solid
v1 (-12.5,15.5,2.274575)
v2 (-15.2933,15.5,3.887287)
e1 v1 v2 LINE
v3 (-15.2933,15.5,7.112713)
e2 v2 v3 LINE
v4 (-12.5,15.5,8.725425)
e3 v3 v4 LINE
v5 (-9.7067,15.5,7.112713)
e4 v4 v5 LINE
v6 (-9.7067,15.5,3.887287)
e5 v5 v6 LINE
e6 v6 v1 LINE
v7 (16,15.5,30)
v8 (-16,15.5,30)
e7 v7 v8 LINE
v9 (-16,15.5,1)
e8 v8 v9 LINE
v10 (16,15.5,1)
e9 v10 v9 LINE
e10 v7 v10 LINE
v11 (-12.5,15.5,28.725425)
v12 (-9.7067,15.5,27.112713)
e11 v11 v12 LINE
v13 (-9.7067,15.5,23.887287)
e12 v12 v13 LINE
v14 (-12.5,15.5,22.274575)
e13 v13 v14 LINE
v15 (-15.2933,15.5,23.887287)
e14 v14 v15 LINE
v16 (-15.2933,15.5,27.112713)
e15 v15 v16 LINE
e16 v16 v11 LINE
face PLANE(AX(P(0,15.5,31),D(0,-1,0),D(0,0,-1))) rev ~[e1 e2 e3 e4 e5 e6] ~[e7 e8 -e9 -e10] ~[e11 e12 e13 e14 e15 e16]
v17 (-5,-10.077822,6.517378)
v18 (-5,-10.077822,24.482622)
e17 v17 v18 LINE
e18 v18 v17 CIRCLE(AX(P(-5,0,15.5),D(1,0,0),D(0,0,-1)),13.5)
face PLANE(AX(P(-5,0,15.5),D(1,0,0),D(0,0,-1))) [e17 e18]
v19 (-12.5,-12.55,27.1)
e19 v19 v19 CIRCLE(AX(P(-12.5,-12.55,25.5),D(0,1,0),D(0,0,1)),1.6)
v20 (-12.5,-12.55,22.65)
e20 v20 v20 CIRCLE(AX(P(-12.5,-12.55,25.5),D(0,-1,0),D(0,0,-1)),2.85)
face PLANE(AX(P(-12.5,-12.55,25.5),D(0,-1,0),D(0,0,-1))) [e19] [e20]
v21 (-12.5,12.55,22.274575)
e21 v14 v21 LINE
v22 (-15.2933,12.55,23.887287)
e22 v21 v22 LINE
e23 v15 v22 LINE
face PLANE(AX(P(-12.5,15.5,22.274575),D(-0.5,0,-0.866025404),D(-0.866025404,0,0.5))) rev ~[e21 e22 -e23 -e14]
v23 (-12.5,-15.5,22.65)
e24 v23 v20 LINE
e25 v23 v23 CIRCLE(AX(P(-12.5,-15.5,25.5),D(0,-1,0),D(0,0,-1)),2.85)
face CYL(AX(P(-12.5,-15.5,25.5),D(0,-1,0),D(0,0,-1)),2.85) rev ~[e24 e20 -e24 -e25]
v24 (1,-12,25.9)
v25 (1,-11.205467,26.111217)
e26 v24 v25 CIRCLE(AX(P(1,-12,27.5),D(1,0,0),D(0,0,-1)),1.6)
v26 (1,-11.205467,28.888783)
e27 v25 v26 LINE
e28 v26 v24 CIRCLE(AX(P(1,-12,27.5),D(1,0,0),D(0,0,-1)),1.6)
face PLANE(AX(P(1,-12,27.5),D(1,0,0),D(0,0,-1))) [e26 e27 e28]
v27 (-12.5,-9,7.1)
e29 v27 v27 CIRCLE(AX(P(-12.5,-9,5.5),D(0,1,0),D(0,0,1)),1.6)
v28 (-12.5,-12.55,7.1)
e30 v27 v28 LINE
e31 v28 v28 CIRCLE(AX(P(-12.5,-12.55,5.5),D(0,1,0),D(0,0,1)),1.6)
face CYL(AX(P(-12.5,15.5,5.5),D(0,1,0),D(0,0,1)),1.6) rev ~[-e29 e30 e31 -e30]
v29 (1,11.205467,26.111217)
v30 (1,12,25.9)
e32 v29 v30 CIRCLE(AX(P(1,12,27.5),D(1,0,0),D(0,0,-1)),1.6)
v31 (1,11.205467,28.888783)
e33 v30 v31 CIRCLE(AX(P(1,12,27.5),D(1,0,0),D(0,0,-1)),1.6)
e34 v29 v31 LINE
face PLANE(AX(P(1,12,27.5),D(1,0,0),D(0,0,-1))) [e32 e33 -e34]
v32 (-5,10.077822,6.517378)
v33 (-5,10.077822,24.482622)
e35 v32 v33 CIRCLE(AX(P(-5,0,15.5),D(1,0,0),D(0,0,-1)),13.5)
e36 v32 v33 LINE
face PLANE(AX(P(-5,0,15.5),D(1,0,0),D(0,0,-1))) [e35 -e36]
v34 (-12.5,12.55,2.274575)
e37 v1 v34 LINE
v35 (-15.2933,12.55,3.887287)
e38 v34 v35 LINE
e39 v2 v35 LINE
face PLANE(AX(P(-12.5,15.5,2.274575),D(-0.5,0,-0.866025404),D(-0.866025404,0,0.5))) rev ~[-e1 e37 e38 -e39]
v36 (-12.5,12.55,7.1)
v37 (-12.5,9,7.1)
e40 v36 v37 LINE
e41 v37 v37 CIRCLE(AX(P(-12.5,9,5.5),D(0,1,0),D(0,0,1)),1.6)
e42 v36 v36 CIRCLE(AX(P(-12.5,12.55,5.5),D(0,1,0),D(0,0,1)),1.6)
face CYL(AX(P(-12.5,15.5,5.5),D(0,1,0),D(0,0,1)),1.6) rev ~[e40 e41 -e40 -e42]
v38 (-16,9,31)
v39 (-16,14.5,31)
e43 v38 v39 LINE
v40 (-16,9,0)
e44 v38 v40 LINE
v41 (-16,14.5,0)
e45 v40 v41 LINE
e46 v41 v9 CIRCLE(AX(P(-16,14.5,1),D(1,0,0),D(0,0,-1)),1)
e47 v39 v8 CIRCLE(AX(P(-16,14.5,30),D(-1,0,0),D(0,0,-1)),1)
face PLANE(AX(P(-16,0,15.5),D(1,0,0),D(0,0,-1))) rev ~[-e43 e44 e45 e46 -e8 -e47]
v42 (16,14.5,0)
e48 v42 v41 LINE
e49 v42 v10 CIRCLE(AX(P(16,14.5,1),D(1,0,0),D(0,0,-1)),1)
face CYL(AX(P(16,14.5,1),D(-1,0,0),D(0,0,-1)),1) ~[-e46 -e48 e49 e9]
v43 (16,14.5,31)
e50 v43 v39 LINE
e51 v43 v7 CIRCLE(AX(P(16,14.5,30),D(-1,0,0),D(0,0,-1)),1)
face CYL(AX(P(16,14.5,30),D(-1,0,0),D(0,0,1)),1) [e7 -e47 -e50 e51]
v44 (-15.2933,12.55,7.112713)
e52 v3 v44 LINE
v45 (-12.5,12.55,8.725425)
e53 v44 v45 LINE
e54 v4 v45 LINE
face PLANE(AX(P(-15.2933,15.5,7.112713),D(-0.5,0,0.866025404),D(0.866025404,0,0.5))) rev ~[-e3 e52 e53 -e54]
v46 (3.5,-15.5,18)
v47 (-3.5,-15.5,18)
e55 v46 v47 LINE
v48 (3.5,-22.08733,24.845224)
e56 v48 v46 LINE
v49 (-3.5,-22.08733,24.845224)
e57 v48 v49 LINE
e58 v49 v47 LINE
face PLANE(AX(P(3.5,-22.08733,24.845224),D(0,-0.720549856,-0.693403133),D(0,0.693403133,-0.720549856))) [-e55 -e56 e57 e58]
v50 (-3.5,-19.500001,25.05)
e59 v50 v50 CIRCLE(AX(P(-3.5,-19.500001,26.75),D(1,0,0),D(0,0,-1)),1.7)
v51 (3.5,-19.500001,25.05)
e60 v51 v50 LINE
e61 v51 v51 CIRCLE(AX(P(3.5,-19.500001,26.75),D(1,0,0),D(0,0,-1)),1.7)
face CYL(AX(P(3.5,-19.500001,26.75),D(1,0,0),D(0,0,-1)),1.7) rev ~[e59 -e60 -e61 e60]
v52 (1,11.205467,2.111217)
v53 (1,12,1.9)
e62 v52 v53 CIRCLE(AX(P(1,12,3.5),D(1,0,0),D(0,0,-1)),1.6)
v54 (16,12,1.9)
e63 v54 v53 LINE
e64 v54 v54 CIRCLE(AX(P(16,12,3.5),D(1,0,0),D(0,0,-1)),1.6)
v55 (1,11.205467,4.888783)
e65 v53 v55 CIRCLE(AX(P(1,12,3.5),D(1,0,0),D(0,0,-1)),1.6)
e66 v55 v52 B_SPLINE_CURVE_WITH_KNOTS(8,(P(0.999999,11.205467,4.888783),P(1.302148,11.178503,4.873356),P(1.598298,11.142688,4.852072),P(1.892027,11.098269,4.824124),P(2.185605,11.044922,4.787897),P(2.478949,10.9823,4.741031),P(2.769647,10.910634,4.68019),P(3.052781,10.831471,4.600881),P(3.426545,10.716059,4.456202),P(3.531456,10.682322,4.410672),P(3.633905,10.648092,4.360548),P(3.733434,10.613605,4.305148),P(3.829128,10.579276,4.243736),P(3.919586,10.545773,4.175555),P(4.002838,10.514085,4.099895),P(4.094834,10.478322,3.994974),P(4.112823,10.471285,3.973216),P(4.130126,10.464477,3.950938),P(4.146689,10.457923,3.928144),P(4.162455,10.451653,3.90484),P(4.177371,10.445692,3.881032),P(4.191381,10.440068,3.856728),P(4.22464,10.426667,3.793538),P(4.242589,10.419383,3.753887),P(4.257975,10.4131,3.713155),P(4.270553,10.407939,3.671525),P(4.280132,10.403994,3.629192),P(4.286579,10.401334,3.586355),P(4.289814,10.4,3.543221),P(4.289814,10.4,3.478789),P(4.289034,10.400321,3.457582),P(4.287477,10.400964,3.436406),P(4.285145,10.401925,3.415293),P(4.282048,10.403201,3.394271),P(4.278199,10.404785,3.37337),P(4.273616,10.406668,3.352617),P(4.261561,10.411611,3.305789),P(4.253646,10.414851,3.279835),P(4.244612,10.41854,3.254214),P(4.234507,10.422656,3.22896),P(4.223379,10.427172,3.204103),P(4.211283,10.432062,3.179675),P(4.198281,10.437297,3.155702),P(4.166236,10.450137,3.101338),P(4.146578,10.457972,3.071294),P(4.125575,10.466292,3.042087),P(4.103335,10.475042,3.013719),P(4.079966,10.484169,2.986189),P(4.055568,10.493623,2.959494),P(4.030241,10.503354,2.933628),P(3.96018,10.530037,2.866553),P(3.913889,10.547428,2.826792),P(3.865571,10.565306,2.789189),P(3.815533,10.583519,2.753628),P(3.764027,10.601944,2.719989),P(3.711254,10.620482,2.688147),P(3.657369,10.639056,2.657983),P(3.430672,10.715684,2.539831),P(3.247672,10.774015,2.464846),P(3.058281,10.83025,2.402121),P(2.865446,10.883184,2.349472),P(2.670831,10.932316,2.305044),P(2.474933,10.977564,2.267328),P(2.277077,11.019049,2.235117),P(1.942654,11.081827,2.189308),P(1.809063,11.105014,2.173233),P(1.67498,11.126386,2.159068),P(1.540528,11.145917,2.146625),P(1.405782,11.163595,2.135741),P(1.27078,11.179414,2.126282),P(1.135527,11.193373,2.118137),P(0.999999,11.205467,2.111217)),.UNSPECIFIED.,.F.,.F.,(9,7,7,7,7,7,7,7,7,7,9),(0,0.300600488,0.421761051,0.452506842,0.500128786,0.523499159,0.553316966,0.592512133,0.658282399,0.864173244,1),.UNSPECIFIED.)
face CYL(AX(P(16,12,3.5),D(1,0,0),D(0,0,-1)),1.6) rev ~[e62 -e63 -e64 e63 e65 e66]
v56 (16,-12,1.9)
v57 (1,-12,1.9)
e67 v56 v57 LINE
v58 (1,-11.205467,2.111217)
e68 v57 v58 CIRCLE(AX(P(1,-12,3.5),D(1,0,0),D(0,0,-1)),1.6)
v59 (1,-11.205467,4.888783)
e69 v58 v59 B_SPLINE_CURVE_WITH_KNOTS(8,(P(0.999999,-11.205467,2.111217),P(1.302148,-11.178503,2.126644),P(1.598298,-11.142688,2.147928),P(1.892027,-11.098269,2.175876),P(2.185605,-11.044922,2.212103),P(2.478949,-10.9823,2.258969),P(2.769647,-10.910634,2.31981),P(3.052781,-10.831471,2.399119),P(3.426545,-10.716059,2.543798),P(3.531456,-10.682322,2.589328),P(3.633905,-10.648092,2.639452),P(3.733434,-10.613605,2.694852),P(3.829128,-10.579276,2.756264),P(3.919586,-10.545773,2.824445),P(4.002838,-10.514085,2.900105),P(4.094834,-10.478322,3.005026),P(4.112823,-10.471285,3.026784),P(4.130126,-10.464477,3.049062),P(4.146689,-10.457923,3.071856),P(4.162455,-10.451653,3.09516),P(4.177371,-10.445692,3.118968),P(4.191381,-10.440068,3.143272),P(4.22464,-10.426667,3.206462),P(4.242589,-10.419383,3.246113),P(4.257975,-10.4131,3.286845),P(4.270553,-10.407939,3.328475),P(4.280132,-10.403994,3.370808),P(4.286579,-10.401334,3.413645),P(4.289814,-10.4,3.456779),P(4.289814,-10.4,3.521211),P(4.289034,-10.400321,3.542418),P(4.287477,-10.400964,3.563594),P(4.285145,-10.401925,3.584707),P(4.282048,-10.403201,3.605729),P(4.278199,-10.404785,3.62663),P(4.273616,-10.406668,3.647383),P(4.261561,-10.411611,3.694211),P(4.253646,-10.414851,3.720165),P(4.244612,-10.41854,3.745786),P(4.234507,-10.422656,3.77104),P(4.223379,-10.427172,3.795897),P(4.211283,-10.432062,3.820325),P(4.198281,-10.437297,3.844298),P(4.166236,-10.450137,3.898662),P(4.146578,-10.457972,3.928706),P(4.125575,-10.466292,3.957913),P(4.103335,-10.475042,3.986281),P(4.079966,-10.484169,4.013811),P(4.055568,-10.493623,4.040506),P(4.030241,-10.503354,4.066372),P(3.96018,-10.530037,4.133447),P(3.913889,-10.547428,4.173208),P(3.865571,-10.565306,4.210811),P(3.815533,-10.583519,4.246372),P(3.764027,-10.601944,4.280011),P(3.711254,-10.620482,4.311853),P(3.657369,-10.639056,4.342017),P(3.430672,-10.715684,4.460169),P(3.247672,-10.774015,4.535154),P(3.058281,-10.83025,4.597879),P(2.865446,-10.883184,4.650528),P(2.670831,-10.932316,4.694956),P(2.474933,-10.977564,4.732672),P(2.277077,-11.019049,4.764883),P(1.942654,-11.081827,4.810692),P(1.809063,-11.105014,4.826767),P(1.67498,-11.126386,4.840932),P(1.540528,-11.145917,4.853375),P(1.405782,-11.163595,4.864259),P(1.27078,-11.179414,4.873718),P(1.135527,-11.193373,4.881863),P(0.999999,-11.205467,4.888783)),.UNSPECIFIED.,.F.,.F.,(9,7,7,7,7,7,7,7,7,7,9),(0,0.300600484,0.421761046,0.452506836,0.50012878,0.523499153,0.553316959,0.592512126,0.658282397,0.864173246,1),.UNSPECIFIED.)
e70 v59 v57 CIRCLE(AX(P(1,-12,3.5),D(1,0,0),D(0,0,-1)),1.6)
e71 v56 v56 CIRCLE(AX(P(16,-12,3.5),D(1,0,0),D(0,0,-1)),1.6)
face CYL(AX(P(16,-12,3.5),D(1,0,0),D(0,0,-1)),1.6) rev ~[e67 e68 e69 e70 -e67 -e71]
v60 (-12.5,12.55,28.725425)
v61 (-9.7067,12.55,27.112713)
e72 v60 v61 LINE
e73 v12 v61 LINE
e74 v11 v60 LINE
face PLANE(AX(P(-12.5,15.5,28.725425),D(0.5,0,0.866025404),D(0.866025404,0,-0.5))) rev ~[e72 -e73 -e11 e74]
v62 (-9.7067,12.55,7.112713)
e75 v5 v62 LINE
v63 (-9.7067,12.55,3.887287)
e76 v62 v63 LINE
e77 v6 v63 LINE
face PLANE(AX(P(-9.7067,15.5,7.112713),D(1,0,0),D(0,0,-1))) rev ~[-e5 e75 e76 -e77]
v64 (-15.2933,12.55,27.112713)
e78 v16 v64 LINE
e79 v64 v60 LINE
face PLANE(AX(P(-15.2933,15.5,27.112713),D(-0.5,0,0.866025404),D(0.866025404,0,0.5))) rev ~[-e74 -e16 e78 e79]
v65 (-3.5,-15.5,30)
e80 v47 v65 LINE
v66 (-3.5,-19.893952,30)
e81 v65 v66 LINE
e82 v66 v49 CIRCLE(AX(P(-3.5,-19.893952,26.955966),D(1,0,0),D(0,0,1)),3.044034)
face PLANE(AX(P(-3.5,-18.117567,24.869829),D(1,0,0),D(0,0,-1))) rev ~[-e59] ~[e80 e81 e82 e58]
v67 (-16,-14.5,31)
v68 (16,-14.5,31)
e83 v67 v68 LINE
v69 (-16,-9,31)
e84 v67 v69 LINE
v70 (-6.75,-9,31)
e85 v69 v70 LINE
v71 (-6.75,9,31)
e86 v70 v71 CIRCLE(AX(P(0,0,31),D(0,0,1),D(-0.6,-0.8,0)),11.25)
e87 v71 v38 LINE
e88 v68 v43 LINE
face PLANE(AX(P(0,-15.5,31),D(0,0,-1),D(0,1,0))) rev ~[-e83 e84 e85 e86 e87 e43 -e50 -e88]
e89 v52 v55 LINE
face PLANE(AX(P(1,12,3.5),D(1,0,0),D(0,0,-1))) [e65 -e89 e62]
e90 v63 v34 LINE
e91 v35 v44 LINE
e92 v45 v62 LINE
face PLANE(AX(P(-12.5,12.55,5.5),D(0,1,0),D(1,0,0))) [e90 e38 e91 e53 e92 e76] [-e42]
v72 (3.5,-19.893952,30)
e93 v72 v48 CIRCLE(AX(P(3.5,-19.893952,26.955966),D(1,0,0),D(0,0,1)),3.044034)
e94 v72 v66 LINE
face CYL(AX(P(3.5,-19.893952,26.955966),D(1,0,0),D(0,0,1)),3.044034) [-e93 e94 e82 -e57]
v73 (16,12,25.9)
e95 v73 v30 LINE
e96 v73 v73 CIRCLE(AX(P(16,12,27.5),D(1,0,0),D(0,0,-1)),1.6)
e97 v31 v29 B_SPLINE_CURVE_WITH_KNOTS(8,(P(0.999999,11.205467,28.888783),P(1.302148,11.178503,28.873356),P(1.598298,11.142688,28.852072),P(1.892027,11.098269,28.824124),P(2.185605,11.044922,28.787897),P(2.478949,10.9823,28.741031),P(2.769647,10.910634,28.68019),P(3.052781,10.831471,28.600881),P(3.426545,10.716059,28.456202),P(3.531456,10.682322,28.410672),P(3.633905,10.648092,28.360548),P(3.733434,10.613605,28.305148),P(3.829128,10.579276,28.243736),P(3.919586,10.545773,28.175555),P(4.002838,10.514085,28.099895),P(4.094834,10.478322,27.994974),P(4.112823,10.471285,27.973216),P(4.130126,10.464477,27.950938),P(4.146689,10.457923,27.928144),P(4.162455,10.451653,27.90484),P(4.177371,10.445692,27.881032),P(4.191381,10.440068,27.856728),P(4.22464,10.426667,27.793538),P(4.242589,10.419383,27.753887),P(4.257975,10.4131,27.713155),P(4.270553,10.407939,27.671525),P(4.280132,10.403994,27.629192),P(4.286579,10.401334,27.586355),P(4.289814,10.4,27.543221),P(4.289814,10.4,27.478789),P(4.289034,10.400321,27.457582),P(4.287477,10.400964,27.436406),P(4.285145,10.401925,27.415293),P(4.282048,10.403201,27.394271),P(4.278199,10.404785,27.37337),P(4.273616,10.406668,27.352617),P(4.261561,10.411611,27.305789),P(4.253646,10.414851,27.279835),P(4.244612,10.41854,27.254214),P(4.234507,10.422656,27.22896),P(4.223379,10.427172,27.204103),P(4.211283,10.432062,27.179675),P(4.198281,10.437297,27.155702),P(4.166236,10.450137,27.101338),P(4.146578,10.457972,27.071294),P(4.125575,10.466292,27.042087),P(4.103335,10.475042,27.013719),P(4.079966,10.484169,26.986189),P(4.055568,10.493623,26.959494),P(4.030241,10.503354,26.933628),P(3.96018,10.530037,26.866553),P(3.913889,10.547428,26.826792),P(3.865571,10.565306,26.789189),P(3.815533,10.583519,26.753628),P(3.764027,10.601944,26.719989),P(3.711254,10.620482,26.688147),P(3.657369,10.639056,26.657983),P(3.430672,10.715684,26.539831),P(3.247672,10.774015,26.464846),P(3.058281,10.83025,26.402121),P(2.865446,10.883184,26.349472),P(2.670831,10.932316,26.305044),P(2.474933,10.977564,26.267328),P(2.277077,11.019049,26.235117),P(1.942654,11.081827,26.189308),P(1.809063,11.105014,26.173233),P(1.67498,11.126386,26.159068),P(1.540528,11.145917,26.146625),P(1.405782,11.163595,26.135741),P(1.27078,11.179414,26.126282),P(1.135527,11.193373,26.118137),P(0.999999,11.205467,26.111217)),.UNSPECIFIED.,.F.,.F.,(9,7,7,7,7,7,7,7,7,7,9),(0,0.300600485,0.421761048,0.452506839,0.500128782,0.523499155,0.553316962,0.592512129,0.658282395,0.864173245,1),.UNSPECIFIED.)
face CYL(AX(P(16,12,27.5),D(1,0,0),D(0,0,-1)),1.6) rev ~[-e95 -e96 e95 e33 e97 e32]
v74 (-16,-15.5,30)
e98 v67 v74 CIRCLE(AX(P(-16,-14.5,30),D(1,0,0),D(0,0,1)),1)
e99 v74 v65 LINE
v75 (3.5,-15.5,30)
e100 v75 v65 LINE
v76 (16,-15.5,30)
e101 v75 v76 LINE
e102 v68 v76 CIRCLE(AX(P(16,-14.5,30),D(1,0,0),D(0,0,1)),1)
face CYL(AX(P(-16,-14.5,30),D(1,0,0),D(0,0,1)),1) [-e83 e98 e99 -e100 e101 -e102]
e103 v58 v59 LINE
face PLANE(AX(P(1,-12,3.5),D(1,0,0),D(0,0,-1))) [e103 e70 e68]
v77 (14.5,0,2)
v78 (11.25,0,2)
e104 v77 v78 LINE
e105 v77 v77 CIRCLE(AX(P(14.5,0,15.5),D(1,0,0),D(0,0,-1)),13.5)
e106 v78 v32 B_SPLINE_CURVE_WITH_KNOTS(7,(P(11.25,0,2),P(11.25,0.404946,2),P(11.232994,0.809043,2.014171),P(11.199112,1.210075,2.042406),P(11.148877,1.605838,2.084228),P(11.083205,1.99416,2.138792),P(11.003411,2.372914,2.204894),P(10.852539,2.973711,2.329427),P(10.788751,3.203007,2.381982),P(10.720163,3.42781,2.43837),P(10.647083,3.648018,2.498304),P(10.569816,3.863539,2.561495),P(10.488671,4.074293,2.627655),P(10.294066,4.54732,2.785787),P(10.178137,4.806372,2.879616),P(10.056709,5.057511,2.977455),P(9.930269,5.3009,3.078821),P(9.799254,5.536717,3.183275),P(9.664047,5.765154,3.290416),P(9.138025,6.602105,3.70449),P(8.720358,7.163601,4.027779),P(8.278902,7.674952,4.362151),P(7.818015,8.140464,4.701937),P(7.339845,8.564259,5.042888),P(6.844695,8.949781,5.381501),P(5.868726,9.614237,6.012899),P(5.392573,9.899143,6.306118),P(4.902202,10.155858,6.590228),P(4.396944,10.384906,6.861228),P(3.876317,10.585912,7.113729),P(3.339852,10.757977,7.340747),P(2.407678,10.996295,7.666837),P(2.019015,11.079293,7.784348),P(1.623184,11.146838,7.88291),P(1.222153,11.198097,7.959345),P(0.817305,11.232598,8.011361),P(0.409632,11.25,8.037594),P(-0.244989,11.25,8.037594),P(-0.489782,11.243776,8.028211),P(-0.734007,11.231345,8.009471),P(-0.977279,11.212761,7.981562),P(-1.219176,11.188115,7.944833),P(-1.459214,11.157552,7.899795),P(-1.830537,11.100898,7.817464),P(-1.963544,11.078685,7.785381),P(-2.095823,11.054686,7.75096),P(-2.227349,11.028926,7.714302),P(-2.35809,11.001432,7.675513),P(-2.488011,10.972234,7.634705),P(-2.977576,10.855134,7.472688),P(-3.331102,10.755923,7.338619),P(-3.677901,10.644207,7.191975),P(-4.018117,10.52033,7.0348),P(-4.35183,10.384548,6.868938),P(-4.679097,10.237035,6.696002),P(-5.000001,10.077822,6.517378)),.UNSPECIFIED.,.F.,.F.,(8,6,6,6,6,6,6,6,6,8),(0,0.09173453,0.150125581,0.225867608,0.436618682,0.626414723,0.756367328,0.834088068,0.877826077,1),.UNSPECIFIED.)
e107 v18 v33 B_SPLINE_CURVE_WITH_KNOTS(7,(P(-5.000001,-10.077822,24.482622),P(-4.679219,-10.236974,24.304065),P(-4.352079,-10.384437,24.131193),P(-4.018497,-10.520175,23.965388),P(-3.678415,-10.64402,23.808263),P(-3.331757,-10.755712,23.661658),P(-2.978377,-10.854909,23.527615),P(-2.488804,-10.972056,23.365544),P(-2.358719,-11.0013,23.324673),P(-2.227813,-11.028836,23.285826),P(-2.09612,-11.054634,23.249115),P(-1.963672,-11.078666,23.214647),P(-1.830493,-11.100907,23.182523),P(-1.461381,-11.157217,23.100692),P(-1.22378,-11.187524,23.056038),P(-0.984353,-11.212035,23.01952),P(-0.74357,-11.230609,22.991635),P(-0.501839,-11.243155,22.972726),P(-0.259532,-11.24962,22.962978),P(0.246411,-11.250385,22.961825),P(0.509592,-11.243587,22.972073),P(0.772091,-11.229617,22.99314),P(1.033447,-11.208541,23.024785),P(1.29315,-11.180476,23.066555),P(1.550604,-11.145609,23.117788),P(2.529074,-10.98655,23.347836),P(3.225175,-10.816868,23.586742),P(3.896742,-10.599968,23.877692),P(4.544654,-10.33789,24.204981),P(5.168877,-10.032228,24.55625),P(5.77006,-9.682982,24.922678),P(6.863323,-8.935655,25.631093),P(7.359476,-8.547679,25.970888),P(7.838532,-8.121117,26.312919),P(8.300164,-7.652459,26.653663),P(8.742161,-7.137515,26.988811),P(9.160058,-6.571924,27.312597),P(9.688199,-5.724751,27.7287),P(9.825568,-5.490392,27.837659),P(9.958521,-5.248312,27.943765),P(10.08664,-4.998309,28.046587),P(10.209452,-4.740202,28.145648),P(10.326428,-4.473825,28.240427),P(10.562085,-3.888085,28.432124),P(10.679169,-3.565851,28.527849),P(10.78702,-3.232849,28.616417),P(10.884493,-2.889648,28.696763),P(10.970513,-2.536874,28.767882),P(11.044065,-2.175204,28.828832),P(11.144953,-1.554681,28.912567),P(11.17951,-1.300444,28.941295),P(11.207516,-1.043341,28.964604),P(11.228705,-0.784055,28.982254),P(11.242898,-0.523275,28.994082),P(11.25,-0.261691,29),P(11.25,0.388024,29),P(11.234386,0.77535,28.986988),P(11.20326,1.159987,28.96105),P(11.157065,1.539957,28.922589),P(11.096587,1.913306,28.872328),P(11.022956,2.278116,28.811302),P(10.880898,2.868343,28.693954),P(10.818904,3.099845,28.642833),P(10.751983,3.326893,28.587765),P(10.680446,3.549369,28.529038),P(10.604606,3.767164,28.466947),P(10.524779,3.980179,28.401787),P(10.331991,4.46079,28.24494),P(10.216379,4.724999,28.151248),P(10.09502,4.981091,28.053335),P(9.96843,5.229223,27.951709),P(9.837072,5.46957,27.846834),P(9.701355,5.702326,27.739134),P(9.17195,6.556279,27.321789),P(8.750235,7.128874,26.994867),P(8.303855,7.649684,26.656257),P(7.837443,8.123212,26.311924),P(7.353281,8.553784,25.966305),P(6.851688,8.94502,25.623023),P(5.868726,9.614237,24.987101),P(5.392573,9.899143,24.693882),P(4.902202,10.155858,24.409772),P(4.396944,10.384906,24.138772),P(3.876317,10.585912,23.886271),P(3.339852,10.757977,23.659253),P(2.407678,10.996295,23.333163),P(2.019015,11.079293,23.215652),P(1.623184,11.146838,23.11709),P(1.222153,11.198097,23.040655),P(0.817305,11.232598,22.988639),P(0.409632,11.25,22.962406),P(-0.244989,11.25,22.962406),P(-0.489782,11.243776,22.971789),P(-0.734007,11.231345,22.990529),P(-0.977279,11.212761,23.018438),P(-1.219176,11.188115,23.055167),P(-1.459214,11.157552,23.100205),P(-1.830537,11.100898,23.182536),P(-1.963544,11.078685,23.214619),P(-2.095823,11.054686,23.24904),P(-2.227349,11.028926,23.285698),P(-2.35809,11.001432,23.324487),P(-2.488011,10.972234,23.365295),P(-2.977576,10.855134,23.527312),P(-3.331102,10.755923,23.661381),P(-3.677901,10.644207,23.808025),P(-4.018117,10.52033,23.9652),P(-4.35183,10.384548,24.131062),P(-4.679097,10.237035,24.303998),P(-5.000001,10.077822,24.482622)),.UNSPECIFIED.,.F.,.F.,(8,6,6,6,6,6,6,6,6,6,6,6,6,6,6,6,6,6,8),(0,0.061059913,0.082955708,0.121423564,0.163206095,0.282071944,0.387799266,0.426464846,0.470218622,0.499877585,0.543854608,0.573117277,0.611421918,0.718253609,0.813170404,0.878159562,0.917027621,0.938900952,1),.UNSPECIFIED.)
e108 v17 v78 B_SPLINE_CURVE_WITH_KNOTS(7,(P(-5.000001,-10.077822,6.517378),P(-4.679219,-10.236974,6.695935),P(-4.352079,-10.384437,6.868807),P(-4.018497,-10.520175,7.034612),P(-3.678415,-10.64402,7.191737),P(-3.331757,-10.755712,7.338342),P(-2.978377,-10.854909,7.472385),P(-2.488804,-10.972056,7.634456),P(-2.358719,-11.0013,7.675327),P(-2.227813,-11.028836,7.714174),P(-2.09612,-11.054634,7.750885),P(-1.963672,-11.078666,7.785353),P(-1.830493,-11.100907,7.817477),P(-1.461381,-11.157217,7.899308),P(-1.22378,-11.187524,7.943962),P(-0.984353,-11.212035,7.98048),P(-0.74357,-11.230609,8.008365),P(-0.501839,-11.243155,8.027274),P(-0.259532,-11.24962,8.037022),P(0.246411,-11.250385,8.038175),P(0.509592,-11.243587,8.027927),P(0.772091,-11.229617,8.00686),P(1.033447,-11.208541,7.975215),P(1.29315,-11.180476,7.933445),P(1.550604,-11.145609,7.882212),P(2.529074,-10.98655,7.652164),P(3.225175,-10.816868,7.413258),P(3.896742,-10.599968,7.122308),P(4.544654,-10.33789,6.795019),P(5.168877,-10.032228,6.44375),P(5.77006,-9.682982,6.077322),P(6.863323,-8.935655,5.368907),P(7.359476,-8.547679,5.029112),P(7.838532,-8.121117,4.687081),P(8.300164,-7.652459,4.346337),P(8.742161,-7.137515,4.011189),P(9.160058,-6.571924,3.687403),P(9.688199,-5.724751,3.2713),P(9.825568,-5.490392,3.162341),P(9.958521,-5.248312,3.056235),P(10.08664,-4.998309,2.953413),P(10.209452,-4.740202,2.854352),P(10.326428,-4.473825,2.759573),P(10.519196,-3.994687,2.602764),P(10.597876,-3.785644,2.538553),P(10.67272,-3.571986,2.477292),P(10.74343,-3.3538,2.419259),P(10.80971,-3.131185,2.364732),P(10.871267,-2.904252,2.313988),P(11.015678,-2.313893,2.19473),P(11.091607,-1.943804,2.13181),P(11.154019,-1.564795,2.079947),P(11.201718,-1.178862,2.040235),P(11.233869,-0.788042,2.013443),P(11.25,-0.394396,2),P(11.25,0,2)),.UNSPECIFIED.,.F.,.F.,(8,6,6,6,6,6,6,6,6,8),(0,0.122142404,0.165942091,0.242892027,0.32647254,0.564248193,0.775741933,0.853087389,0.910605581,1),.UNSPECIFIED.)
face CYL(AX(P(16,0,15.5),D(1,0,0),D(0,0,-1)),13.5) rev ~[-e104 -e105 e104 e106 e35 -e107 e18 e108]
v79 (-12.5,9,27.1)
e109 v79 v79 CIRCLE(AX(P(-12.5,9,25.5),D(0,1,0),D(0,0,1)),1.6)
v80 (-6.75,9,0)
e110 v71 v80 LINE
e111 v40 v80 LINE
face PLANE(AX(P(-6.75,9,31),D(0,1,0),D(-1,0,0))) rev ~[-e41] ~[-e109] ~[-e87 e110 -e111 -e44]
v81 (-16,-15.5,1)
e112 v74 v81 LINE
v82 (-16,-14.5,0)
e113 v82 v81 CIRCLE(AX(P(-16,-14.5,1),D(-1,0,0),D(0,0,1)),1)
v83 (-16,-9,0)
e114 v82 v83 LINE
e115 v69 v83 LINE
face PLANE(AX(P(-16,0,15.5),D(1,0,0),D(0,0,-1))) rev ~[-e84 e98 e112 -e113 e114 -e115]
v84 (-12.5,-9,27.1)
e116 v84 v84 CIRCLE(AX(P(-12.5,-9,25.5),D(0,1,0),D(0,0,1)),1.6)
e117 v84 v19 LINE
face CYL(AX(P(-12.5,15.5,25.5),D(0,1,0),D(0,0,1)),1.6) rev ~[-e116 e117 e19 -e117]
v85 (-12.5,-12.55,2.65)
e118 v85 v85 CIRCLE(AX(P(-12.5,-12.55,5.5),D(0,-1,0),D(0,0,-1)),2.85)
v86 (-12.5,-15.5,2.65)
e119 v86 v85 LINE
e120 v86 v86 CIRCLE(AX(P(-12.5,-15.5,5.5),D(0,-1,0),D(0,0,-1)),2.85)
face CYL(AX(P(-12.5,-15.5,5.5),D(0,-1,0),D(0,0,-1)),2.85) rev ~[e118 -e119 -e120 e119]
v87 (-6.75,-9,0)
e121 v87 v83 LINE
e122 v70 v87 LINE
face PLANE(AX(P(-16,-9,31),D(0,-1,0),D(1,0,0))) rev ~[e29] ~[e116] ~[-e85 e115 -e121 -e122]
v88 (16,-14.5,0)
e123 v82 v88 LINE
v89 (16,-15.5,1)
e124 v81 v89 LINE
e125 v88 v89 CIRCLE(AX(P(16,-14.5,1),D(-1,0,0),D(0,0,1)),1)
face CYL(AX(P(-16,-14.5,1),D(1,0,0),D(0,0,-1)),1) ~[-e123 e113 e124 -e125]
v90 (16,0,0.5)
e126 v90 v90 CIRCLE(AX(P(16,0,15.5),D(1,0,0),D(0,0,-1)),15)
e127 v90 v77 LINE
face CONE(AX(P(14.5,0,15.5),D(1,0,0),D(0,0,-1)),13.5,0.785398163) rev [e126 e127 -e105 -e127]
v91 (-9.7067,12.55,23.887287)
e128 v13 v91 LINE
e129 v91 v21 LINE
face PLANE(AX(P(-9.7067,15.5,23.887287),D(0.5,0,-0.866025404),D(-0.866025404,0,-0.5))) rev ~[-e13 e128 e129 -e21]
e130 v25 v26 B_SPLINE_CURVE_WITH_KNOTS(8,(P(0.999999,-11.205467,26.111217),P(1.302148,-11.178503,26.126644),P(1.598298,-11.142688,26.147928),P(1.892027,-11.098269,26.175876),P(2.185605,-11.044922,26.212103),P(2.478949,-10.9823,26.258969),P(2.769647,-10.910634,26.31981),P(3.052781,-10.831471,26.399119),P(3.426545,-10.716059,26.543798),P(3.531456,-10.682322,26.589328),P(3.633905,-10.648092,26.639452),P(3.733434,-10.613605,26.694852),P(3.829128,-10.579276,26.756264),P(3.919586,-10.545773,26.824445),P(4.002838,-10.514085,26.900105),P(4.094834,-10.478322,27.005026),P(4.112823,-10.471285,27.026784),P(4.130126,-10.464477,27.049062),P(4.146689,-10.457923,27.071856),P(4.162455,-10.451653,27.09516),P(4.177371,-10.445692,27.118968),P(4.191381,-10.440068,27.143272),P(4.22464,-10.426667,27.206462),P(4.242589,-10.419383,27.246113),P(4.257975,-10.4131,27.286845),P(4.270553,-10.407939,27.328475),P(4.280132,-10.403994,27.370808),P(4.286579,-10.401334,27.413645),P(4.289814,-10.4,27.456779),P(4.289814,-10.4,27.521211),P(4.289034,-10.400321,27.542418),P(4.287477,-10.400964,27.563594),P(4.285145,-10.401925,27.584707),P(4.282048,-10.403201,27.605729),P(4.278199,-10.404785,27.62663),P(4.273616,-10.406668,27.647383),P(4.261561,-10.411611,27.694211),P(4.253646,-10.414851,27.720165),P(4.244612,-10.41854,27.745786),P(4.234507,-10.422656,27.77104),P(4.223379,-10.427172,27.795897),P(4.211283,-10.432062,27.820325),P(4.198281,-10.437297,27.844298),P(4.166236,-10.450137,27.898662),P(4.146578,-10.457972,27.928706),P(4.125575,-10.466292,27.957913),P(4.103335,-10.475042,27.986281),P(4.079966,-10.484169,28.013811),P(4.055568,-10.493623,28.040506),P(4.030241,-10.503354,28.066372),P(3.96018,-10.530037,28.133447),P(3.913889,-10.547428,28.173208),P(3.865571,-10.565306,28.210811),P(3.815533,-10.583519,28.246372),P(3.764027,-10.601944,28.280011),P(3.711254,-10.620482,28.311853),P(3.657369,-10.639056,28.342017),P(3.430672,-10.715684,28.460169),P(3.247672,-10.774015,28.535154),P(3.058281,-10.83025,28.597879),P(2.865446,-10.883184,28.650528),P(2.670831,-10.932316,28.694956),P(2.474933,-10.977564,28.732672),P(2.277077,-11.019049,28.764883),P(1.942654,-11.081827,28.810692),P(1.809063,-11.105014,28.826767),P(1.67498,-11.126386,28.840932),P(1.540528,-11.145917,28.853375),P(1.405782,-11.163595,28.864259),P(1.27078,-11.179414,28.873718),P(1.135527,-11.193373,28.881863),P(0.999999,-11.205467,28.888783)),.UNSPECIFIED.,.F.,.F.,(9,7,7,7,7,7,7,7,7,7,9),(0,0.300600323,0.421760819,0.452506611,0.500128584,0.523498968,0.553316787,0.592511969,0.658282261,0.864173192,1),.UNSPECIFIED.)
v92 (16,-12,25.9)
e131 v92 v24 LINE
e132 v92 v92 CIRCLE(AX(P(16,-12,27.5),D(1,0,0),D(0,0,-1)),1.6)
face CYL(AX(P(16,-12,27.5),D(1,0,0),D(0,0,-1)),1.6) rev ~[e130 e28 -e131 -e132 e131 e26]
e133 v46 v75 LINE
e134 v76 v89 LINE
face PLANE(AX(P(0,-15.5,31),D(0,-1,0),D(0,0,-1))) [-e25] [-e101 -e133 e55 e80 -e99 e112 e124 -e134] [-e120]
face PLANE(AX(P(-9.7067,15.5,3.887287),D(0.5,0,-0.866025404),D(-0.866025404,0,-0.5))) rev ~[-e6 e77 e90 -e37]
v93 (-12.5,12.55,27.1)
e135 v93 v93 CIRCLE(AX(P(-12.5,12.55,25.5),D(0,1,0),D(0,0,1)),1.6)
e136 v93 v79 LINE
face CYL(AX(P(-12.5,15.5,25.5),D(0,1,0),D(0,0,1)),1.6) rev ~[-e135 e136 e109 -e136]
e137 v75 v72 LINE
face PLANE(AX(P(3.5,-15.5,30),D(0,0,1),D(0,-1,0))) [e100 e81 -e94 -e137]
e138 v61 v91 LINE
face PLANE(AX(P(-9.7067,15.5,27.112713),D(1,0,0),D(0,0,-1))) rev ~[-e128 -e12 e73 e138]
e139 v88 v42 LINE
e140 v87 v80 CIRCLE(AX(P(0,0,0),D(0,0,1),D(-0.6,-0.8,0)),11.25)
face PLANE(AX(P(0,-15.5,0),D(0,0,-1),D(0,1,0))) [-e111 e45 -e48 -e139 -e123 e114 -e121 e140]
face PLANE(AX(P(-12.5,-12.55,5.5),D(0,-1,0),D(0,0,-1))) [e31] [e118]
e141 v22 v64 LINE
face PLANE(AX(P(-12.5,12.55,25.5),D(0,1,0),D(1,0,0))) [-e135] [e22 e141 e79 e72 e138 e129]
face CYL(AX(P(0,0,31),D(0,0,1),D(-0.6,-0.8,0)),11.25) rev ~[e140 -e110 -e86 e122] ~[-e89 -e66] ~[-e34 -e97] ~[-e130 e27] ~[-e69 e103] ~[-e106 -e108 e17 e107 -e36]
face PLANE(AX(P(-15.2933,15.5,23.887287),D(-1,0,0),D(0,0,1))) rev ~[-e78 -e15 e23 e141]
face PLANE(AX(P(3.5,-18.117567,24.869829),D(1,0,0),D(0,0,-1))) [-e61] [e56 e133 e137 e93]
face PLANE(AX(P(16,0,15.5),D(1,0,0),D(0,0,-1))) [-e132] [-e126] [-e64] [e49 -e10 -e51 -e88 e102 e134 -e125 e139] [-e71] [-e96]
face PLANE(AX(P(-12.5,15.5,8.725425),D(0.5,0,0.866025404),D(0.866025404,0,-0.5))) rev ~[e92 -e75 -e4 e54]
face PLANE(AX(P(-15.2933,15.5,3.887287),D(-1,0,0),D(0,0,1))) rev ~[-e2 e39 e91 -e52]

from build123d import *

# Parameters (mm, degrees)
SKETCH1_W           = 31
SKETCH1_H           = 31
BOSS_EXTRUDE1_DEPTH = 16
FILLET1_R           = 1
SKETCH2_R           = 13.5
CUT_EXTRUDE1_DEPTH  = 21
SKETCH3_R           = 1.6
CUT_EXTRUDE2_DEPTH  = 15
CUT_EXTRUDE3_DEPTH  = 39.173943993
SKETCH5_R           = 1.6
CUT_EXTRUDE4_DEPTH  = 47.669047659
CUT_EXTRUDE5_DEPTH  = 2.95
SKETCH7_R           = 2.85
CUT_EXTRUDE6_DEPTH  = 2.95
BOSS_EXTRUDE2_START = -12.5
BOSS_EXTRUDE2_DEPTH = 7
SKETCH9_R           = 1.70000037
CUT_EXTRUDE7_DEPTH  = 44.213437626
CHAMFER1_SIZE       = 1.5


with BuildPart() as part:
    # Sketch1 → Boss-Extrude1 (new, symmetric)
    with BuildSketch(Plane(origin=(0, 0, 0), x_dir=(0, 0, -1), z_dir=(1, 0, 0))):
        with Locations((-15.5, 0)):
            Rectangle(SKETCH1_W, SKETCH1_H)
    extrude(amount=BOSS_EXTRUDE1_DEPTH, both=True)

    # Fillet1
    fillet1_edges = [part.edges().sort_by_distance(p)[0] for p in [
        (0, -15.5, 0),
        (0, -15.5, 31),
        (0, 15.5, 31),
        (0, 15.5, 0),
    ]]
    fillet(fillet1_edges, radius=FILLET1_R)

    # Sketch2 → Cut-Extrude1 (cut)
    with BuildSketch(Plane(origin=(16, 0, 0), x_dir=(0, 0, -1), z_dir=(1, 0, 0))):
        with Locations((-15.5, 0)):
            Circle(SKETCH2_R)
    extrude(amount=-CUT_EXTRUDE1_DEPTH, mode=Mode.SUBTRACT)

    # Sketch3 → Cut-Extrude2 (cut)
    with BuildSketch(Plane(origin=(16, 0, 0), x_dir=(0, 0, -1), z_dir=(1, 0, 0))):
        with Locations((-27.5, 12)):
            Circle(SKETCH3_R)
        with Locations((-3.5, 12)):
            Circle(SKETCH3_R)
        with Locations((-3.5, -12)):
            Circle(SKETCH3_R)
        with Locations((-27.5, -12)):
            Circle(SKETCH3_R)
    extrude(amount=-CUT_EXTRUDE2_DEPTH, mode=Mode.SUBTRACT)

    # Sketch4 → Cut-Extrude3 (cut, through all)
    with BuildSketch(Plane.XY.offset(31)):
        with BuildLine():
            Line((-6.75, 9), (-16, 9))
            Line((-16, 9), (-16, -9))
            Line((-16, -9), (-6.75, -9))
            ThreePointArc((-6.75, -9), (11.25, 0), (-6.75, 9))
        make_face()
    extrude(amount=-CUT_EXTRUDE3_DEPTH, mode=Mode.SUBTRACT)

    # Sketch5 → Cut-Extrude4 (cut, through all)
    with BuildSketch(Plane(origin=(0, 15.5, 0), x_dir=(1, 0, 0), z_dir=(0, 1, 0))):
        with Locations(Location((-12.5, -5.5, 0), (0, 0, 270))):
            Circle(SKETCH5_R)
        with Locations(Location((-12.5, -25.5, 0), (0, 0, 270))):
            Circle(SKETCH5_R)
    extrude(amount=-CUT_EXTRUDE4_DEPTH, mode=Mode.SUBTRACT)

    # Sketch6 → Cut-Extrude5 (cut)
    with BuildSketch(Plane(origin=(0, 15.5, 0), x_dir=(1, 0, 0), z_dir=(0, 1, 0))):
        Polygon((-12.5, -8.725425014), (-9.7067, -7.112712507), (-9.7067, -3.887287493), (-12.5, -2.274574986), (-15.2933, -3.887287493), (-15.2933, -7.112712507), align=None)
        Polygon((-9.7067, -27.112712507), (-9.7067, -23.887287493), (-12.5, -22.274574986), (-15.2933, -23.887287493), (-15.2933, -27.112712507), (-12.5, -28.725425014), align=None)
    extrude(amount=-CUT_EXTRUDE5_DEPTH, mode=Mode.SUBTRACT)

    # Sketch7 → Cut-Extrude6 (cut)
    with BuildSketch(Plane.XZ.offset(15.5)):
        with Locations(Location((-12.5, 25.5, 0), (0, 0, 270))):
            Circle(SKETCH7_R)
        with Locations(Location((-12.5, 5.5, 0), (0, 0, 270))):
            Circle(SKETCH7_R)
    extrude(amount=-CUT_EXTRUDE6_DEPTH, mode=Mode.SUBTRACT)

    # Sketch8 → Boss-Extrude2 (add)
    with BuildSketch(Plane(origin=(16, 0, 0), x_dir=(0, 0, -1), z_dir=(1, 0, 0)).offset(BOSS_EXTRUDE2_START)):
        with BuildLine():
            Line((-30, -15.5), (-30, -19.893951988))
            ThreePointArc((-30, -19.893951988), (-28.14780731, -22.694961806), (-24.845223874, -22.087329999))
            Line((-24.845223874, -22.087329999), (-18, -15.5))
            Line((-18, -15.5), (-30, -15.5))
        make_face()
    extrude(amount=-BOSS_EXTRUDE2_DEPTH)

    # Sketch9 → Cut-Extrude7 (cut, through all)
    with BuildSketch(Plane(origin=(3.5, 0, 0), x_dir=(0, 0, -1), z_dir=(1, 0, 0))):
        with Locations((-26.749999873, -19.500000979)):
            Circle(SKETCH9_R)
    extrude(amount=-CUT_EXTRUDE7_DEPTH, mode=Mode.SUBTRACT)

    # Chamfer1
    chamfer1_edges = [part.edges().sort_by_distance(p)[0] for p in [
        (16, 0, 29),
    ]]
    chamfer(chamfer1_edges, length=CHAMFER1_SIZE)


solid = part.part
